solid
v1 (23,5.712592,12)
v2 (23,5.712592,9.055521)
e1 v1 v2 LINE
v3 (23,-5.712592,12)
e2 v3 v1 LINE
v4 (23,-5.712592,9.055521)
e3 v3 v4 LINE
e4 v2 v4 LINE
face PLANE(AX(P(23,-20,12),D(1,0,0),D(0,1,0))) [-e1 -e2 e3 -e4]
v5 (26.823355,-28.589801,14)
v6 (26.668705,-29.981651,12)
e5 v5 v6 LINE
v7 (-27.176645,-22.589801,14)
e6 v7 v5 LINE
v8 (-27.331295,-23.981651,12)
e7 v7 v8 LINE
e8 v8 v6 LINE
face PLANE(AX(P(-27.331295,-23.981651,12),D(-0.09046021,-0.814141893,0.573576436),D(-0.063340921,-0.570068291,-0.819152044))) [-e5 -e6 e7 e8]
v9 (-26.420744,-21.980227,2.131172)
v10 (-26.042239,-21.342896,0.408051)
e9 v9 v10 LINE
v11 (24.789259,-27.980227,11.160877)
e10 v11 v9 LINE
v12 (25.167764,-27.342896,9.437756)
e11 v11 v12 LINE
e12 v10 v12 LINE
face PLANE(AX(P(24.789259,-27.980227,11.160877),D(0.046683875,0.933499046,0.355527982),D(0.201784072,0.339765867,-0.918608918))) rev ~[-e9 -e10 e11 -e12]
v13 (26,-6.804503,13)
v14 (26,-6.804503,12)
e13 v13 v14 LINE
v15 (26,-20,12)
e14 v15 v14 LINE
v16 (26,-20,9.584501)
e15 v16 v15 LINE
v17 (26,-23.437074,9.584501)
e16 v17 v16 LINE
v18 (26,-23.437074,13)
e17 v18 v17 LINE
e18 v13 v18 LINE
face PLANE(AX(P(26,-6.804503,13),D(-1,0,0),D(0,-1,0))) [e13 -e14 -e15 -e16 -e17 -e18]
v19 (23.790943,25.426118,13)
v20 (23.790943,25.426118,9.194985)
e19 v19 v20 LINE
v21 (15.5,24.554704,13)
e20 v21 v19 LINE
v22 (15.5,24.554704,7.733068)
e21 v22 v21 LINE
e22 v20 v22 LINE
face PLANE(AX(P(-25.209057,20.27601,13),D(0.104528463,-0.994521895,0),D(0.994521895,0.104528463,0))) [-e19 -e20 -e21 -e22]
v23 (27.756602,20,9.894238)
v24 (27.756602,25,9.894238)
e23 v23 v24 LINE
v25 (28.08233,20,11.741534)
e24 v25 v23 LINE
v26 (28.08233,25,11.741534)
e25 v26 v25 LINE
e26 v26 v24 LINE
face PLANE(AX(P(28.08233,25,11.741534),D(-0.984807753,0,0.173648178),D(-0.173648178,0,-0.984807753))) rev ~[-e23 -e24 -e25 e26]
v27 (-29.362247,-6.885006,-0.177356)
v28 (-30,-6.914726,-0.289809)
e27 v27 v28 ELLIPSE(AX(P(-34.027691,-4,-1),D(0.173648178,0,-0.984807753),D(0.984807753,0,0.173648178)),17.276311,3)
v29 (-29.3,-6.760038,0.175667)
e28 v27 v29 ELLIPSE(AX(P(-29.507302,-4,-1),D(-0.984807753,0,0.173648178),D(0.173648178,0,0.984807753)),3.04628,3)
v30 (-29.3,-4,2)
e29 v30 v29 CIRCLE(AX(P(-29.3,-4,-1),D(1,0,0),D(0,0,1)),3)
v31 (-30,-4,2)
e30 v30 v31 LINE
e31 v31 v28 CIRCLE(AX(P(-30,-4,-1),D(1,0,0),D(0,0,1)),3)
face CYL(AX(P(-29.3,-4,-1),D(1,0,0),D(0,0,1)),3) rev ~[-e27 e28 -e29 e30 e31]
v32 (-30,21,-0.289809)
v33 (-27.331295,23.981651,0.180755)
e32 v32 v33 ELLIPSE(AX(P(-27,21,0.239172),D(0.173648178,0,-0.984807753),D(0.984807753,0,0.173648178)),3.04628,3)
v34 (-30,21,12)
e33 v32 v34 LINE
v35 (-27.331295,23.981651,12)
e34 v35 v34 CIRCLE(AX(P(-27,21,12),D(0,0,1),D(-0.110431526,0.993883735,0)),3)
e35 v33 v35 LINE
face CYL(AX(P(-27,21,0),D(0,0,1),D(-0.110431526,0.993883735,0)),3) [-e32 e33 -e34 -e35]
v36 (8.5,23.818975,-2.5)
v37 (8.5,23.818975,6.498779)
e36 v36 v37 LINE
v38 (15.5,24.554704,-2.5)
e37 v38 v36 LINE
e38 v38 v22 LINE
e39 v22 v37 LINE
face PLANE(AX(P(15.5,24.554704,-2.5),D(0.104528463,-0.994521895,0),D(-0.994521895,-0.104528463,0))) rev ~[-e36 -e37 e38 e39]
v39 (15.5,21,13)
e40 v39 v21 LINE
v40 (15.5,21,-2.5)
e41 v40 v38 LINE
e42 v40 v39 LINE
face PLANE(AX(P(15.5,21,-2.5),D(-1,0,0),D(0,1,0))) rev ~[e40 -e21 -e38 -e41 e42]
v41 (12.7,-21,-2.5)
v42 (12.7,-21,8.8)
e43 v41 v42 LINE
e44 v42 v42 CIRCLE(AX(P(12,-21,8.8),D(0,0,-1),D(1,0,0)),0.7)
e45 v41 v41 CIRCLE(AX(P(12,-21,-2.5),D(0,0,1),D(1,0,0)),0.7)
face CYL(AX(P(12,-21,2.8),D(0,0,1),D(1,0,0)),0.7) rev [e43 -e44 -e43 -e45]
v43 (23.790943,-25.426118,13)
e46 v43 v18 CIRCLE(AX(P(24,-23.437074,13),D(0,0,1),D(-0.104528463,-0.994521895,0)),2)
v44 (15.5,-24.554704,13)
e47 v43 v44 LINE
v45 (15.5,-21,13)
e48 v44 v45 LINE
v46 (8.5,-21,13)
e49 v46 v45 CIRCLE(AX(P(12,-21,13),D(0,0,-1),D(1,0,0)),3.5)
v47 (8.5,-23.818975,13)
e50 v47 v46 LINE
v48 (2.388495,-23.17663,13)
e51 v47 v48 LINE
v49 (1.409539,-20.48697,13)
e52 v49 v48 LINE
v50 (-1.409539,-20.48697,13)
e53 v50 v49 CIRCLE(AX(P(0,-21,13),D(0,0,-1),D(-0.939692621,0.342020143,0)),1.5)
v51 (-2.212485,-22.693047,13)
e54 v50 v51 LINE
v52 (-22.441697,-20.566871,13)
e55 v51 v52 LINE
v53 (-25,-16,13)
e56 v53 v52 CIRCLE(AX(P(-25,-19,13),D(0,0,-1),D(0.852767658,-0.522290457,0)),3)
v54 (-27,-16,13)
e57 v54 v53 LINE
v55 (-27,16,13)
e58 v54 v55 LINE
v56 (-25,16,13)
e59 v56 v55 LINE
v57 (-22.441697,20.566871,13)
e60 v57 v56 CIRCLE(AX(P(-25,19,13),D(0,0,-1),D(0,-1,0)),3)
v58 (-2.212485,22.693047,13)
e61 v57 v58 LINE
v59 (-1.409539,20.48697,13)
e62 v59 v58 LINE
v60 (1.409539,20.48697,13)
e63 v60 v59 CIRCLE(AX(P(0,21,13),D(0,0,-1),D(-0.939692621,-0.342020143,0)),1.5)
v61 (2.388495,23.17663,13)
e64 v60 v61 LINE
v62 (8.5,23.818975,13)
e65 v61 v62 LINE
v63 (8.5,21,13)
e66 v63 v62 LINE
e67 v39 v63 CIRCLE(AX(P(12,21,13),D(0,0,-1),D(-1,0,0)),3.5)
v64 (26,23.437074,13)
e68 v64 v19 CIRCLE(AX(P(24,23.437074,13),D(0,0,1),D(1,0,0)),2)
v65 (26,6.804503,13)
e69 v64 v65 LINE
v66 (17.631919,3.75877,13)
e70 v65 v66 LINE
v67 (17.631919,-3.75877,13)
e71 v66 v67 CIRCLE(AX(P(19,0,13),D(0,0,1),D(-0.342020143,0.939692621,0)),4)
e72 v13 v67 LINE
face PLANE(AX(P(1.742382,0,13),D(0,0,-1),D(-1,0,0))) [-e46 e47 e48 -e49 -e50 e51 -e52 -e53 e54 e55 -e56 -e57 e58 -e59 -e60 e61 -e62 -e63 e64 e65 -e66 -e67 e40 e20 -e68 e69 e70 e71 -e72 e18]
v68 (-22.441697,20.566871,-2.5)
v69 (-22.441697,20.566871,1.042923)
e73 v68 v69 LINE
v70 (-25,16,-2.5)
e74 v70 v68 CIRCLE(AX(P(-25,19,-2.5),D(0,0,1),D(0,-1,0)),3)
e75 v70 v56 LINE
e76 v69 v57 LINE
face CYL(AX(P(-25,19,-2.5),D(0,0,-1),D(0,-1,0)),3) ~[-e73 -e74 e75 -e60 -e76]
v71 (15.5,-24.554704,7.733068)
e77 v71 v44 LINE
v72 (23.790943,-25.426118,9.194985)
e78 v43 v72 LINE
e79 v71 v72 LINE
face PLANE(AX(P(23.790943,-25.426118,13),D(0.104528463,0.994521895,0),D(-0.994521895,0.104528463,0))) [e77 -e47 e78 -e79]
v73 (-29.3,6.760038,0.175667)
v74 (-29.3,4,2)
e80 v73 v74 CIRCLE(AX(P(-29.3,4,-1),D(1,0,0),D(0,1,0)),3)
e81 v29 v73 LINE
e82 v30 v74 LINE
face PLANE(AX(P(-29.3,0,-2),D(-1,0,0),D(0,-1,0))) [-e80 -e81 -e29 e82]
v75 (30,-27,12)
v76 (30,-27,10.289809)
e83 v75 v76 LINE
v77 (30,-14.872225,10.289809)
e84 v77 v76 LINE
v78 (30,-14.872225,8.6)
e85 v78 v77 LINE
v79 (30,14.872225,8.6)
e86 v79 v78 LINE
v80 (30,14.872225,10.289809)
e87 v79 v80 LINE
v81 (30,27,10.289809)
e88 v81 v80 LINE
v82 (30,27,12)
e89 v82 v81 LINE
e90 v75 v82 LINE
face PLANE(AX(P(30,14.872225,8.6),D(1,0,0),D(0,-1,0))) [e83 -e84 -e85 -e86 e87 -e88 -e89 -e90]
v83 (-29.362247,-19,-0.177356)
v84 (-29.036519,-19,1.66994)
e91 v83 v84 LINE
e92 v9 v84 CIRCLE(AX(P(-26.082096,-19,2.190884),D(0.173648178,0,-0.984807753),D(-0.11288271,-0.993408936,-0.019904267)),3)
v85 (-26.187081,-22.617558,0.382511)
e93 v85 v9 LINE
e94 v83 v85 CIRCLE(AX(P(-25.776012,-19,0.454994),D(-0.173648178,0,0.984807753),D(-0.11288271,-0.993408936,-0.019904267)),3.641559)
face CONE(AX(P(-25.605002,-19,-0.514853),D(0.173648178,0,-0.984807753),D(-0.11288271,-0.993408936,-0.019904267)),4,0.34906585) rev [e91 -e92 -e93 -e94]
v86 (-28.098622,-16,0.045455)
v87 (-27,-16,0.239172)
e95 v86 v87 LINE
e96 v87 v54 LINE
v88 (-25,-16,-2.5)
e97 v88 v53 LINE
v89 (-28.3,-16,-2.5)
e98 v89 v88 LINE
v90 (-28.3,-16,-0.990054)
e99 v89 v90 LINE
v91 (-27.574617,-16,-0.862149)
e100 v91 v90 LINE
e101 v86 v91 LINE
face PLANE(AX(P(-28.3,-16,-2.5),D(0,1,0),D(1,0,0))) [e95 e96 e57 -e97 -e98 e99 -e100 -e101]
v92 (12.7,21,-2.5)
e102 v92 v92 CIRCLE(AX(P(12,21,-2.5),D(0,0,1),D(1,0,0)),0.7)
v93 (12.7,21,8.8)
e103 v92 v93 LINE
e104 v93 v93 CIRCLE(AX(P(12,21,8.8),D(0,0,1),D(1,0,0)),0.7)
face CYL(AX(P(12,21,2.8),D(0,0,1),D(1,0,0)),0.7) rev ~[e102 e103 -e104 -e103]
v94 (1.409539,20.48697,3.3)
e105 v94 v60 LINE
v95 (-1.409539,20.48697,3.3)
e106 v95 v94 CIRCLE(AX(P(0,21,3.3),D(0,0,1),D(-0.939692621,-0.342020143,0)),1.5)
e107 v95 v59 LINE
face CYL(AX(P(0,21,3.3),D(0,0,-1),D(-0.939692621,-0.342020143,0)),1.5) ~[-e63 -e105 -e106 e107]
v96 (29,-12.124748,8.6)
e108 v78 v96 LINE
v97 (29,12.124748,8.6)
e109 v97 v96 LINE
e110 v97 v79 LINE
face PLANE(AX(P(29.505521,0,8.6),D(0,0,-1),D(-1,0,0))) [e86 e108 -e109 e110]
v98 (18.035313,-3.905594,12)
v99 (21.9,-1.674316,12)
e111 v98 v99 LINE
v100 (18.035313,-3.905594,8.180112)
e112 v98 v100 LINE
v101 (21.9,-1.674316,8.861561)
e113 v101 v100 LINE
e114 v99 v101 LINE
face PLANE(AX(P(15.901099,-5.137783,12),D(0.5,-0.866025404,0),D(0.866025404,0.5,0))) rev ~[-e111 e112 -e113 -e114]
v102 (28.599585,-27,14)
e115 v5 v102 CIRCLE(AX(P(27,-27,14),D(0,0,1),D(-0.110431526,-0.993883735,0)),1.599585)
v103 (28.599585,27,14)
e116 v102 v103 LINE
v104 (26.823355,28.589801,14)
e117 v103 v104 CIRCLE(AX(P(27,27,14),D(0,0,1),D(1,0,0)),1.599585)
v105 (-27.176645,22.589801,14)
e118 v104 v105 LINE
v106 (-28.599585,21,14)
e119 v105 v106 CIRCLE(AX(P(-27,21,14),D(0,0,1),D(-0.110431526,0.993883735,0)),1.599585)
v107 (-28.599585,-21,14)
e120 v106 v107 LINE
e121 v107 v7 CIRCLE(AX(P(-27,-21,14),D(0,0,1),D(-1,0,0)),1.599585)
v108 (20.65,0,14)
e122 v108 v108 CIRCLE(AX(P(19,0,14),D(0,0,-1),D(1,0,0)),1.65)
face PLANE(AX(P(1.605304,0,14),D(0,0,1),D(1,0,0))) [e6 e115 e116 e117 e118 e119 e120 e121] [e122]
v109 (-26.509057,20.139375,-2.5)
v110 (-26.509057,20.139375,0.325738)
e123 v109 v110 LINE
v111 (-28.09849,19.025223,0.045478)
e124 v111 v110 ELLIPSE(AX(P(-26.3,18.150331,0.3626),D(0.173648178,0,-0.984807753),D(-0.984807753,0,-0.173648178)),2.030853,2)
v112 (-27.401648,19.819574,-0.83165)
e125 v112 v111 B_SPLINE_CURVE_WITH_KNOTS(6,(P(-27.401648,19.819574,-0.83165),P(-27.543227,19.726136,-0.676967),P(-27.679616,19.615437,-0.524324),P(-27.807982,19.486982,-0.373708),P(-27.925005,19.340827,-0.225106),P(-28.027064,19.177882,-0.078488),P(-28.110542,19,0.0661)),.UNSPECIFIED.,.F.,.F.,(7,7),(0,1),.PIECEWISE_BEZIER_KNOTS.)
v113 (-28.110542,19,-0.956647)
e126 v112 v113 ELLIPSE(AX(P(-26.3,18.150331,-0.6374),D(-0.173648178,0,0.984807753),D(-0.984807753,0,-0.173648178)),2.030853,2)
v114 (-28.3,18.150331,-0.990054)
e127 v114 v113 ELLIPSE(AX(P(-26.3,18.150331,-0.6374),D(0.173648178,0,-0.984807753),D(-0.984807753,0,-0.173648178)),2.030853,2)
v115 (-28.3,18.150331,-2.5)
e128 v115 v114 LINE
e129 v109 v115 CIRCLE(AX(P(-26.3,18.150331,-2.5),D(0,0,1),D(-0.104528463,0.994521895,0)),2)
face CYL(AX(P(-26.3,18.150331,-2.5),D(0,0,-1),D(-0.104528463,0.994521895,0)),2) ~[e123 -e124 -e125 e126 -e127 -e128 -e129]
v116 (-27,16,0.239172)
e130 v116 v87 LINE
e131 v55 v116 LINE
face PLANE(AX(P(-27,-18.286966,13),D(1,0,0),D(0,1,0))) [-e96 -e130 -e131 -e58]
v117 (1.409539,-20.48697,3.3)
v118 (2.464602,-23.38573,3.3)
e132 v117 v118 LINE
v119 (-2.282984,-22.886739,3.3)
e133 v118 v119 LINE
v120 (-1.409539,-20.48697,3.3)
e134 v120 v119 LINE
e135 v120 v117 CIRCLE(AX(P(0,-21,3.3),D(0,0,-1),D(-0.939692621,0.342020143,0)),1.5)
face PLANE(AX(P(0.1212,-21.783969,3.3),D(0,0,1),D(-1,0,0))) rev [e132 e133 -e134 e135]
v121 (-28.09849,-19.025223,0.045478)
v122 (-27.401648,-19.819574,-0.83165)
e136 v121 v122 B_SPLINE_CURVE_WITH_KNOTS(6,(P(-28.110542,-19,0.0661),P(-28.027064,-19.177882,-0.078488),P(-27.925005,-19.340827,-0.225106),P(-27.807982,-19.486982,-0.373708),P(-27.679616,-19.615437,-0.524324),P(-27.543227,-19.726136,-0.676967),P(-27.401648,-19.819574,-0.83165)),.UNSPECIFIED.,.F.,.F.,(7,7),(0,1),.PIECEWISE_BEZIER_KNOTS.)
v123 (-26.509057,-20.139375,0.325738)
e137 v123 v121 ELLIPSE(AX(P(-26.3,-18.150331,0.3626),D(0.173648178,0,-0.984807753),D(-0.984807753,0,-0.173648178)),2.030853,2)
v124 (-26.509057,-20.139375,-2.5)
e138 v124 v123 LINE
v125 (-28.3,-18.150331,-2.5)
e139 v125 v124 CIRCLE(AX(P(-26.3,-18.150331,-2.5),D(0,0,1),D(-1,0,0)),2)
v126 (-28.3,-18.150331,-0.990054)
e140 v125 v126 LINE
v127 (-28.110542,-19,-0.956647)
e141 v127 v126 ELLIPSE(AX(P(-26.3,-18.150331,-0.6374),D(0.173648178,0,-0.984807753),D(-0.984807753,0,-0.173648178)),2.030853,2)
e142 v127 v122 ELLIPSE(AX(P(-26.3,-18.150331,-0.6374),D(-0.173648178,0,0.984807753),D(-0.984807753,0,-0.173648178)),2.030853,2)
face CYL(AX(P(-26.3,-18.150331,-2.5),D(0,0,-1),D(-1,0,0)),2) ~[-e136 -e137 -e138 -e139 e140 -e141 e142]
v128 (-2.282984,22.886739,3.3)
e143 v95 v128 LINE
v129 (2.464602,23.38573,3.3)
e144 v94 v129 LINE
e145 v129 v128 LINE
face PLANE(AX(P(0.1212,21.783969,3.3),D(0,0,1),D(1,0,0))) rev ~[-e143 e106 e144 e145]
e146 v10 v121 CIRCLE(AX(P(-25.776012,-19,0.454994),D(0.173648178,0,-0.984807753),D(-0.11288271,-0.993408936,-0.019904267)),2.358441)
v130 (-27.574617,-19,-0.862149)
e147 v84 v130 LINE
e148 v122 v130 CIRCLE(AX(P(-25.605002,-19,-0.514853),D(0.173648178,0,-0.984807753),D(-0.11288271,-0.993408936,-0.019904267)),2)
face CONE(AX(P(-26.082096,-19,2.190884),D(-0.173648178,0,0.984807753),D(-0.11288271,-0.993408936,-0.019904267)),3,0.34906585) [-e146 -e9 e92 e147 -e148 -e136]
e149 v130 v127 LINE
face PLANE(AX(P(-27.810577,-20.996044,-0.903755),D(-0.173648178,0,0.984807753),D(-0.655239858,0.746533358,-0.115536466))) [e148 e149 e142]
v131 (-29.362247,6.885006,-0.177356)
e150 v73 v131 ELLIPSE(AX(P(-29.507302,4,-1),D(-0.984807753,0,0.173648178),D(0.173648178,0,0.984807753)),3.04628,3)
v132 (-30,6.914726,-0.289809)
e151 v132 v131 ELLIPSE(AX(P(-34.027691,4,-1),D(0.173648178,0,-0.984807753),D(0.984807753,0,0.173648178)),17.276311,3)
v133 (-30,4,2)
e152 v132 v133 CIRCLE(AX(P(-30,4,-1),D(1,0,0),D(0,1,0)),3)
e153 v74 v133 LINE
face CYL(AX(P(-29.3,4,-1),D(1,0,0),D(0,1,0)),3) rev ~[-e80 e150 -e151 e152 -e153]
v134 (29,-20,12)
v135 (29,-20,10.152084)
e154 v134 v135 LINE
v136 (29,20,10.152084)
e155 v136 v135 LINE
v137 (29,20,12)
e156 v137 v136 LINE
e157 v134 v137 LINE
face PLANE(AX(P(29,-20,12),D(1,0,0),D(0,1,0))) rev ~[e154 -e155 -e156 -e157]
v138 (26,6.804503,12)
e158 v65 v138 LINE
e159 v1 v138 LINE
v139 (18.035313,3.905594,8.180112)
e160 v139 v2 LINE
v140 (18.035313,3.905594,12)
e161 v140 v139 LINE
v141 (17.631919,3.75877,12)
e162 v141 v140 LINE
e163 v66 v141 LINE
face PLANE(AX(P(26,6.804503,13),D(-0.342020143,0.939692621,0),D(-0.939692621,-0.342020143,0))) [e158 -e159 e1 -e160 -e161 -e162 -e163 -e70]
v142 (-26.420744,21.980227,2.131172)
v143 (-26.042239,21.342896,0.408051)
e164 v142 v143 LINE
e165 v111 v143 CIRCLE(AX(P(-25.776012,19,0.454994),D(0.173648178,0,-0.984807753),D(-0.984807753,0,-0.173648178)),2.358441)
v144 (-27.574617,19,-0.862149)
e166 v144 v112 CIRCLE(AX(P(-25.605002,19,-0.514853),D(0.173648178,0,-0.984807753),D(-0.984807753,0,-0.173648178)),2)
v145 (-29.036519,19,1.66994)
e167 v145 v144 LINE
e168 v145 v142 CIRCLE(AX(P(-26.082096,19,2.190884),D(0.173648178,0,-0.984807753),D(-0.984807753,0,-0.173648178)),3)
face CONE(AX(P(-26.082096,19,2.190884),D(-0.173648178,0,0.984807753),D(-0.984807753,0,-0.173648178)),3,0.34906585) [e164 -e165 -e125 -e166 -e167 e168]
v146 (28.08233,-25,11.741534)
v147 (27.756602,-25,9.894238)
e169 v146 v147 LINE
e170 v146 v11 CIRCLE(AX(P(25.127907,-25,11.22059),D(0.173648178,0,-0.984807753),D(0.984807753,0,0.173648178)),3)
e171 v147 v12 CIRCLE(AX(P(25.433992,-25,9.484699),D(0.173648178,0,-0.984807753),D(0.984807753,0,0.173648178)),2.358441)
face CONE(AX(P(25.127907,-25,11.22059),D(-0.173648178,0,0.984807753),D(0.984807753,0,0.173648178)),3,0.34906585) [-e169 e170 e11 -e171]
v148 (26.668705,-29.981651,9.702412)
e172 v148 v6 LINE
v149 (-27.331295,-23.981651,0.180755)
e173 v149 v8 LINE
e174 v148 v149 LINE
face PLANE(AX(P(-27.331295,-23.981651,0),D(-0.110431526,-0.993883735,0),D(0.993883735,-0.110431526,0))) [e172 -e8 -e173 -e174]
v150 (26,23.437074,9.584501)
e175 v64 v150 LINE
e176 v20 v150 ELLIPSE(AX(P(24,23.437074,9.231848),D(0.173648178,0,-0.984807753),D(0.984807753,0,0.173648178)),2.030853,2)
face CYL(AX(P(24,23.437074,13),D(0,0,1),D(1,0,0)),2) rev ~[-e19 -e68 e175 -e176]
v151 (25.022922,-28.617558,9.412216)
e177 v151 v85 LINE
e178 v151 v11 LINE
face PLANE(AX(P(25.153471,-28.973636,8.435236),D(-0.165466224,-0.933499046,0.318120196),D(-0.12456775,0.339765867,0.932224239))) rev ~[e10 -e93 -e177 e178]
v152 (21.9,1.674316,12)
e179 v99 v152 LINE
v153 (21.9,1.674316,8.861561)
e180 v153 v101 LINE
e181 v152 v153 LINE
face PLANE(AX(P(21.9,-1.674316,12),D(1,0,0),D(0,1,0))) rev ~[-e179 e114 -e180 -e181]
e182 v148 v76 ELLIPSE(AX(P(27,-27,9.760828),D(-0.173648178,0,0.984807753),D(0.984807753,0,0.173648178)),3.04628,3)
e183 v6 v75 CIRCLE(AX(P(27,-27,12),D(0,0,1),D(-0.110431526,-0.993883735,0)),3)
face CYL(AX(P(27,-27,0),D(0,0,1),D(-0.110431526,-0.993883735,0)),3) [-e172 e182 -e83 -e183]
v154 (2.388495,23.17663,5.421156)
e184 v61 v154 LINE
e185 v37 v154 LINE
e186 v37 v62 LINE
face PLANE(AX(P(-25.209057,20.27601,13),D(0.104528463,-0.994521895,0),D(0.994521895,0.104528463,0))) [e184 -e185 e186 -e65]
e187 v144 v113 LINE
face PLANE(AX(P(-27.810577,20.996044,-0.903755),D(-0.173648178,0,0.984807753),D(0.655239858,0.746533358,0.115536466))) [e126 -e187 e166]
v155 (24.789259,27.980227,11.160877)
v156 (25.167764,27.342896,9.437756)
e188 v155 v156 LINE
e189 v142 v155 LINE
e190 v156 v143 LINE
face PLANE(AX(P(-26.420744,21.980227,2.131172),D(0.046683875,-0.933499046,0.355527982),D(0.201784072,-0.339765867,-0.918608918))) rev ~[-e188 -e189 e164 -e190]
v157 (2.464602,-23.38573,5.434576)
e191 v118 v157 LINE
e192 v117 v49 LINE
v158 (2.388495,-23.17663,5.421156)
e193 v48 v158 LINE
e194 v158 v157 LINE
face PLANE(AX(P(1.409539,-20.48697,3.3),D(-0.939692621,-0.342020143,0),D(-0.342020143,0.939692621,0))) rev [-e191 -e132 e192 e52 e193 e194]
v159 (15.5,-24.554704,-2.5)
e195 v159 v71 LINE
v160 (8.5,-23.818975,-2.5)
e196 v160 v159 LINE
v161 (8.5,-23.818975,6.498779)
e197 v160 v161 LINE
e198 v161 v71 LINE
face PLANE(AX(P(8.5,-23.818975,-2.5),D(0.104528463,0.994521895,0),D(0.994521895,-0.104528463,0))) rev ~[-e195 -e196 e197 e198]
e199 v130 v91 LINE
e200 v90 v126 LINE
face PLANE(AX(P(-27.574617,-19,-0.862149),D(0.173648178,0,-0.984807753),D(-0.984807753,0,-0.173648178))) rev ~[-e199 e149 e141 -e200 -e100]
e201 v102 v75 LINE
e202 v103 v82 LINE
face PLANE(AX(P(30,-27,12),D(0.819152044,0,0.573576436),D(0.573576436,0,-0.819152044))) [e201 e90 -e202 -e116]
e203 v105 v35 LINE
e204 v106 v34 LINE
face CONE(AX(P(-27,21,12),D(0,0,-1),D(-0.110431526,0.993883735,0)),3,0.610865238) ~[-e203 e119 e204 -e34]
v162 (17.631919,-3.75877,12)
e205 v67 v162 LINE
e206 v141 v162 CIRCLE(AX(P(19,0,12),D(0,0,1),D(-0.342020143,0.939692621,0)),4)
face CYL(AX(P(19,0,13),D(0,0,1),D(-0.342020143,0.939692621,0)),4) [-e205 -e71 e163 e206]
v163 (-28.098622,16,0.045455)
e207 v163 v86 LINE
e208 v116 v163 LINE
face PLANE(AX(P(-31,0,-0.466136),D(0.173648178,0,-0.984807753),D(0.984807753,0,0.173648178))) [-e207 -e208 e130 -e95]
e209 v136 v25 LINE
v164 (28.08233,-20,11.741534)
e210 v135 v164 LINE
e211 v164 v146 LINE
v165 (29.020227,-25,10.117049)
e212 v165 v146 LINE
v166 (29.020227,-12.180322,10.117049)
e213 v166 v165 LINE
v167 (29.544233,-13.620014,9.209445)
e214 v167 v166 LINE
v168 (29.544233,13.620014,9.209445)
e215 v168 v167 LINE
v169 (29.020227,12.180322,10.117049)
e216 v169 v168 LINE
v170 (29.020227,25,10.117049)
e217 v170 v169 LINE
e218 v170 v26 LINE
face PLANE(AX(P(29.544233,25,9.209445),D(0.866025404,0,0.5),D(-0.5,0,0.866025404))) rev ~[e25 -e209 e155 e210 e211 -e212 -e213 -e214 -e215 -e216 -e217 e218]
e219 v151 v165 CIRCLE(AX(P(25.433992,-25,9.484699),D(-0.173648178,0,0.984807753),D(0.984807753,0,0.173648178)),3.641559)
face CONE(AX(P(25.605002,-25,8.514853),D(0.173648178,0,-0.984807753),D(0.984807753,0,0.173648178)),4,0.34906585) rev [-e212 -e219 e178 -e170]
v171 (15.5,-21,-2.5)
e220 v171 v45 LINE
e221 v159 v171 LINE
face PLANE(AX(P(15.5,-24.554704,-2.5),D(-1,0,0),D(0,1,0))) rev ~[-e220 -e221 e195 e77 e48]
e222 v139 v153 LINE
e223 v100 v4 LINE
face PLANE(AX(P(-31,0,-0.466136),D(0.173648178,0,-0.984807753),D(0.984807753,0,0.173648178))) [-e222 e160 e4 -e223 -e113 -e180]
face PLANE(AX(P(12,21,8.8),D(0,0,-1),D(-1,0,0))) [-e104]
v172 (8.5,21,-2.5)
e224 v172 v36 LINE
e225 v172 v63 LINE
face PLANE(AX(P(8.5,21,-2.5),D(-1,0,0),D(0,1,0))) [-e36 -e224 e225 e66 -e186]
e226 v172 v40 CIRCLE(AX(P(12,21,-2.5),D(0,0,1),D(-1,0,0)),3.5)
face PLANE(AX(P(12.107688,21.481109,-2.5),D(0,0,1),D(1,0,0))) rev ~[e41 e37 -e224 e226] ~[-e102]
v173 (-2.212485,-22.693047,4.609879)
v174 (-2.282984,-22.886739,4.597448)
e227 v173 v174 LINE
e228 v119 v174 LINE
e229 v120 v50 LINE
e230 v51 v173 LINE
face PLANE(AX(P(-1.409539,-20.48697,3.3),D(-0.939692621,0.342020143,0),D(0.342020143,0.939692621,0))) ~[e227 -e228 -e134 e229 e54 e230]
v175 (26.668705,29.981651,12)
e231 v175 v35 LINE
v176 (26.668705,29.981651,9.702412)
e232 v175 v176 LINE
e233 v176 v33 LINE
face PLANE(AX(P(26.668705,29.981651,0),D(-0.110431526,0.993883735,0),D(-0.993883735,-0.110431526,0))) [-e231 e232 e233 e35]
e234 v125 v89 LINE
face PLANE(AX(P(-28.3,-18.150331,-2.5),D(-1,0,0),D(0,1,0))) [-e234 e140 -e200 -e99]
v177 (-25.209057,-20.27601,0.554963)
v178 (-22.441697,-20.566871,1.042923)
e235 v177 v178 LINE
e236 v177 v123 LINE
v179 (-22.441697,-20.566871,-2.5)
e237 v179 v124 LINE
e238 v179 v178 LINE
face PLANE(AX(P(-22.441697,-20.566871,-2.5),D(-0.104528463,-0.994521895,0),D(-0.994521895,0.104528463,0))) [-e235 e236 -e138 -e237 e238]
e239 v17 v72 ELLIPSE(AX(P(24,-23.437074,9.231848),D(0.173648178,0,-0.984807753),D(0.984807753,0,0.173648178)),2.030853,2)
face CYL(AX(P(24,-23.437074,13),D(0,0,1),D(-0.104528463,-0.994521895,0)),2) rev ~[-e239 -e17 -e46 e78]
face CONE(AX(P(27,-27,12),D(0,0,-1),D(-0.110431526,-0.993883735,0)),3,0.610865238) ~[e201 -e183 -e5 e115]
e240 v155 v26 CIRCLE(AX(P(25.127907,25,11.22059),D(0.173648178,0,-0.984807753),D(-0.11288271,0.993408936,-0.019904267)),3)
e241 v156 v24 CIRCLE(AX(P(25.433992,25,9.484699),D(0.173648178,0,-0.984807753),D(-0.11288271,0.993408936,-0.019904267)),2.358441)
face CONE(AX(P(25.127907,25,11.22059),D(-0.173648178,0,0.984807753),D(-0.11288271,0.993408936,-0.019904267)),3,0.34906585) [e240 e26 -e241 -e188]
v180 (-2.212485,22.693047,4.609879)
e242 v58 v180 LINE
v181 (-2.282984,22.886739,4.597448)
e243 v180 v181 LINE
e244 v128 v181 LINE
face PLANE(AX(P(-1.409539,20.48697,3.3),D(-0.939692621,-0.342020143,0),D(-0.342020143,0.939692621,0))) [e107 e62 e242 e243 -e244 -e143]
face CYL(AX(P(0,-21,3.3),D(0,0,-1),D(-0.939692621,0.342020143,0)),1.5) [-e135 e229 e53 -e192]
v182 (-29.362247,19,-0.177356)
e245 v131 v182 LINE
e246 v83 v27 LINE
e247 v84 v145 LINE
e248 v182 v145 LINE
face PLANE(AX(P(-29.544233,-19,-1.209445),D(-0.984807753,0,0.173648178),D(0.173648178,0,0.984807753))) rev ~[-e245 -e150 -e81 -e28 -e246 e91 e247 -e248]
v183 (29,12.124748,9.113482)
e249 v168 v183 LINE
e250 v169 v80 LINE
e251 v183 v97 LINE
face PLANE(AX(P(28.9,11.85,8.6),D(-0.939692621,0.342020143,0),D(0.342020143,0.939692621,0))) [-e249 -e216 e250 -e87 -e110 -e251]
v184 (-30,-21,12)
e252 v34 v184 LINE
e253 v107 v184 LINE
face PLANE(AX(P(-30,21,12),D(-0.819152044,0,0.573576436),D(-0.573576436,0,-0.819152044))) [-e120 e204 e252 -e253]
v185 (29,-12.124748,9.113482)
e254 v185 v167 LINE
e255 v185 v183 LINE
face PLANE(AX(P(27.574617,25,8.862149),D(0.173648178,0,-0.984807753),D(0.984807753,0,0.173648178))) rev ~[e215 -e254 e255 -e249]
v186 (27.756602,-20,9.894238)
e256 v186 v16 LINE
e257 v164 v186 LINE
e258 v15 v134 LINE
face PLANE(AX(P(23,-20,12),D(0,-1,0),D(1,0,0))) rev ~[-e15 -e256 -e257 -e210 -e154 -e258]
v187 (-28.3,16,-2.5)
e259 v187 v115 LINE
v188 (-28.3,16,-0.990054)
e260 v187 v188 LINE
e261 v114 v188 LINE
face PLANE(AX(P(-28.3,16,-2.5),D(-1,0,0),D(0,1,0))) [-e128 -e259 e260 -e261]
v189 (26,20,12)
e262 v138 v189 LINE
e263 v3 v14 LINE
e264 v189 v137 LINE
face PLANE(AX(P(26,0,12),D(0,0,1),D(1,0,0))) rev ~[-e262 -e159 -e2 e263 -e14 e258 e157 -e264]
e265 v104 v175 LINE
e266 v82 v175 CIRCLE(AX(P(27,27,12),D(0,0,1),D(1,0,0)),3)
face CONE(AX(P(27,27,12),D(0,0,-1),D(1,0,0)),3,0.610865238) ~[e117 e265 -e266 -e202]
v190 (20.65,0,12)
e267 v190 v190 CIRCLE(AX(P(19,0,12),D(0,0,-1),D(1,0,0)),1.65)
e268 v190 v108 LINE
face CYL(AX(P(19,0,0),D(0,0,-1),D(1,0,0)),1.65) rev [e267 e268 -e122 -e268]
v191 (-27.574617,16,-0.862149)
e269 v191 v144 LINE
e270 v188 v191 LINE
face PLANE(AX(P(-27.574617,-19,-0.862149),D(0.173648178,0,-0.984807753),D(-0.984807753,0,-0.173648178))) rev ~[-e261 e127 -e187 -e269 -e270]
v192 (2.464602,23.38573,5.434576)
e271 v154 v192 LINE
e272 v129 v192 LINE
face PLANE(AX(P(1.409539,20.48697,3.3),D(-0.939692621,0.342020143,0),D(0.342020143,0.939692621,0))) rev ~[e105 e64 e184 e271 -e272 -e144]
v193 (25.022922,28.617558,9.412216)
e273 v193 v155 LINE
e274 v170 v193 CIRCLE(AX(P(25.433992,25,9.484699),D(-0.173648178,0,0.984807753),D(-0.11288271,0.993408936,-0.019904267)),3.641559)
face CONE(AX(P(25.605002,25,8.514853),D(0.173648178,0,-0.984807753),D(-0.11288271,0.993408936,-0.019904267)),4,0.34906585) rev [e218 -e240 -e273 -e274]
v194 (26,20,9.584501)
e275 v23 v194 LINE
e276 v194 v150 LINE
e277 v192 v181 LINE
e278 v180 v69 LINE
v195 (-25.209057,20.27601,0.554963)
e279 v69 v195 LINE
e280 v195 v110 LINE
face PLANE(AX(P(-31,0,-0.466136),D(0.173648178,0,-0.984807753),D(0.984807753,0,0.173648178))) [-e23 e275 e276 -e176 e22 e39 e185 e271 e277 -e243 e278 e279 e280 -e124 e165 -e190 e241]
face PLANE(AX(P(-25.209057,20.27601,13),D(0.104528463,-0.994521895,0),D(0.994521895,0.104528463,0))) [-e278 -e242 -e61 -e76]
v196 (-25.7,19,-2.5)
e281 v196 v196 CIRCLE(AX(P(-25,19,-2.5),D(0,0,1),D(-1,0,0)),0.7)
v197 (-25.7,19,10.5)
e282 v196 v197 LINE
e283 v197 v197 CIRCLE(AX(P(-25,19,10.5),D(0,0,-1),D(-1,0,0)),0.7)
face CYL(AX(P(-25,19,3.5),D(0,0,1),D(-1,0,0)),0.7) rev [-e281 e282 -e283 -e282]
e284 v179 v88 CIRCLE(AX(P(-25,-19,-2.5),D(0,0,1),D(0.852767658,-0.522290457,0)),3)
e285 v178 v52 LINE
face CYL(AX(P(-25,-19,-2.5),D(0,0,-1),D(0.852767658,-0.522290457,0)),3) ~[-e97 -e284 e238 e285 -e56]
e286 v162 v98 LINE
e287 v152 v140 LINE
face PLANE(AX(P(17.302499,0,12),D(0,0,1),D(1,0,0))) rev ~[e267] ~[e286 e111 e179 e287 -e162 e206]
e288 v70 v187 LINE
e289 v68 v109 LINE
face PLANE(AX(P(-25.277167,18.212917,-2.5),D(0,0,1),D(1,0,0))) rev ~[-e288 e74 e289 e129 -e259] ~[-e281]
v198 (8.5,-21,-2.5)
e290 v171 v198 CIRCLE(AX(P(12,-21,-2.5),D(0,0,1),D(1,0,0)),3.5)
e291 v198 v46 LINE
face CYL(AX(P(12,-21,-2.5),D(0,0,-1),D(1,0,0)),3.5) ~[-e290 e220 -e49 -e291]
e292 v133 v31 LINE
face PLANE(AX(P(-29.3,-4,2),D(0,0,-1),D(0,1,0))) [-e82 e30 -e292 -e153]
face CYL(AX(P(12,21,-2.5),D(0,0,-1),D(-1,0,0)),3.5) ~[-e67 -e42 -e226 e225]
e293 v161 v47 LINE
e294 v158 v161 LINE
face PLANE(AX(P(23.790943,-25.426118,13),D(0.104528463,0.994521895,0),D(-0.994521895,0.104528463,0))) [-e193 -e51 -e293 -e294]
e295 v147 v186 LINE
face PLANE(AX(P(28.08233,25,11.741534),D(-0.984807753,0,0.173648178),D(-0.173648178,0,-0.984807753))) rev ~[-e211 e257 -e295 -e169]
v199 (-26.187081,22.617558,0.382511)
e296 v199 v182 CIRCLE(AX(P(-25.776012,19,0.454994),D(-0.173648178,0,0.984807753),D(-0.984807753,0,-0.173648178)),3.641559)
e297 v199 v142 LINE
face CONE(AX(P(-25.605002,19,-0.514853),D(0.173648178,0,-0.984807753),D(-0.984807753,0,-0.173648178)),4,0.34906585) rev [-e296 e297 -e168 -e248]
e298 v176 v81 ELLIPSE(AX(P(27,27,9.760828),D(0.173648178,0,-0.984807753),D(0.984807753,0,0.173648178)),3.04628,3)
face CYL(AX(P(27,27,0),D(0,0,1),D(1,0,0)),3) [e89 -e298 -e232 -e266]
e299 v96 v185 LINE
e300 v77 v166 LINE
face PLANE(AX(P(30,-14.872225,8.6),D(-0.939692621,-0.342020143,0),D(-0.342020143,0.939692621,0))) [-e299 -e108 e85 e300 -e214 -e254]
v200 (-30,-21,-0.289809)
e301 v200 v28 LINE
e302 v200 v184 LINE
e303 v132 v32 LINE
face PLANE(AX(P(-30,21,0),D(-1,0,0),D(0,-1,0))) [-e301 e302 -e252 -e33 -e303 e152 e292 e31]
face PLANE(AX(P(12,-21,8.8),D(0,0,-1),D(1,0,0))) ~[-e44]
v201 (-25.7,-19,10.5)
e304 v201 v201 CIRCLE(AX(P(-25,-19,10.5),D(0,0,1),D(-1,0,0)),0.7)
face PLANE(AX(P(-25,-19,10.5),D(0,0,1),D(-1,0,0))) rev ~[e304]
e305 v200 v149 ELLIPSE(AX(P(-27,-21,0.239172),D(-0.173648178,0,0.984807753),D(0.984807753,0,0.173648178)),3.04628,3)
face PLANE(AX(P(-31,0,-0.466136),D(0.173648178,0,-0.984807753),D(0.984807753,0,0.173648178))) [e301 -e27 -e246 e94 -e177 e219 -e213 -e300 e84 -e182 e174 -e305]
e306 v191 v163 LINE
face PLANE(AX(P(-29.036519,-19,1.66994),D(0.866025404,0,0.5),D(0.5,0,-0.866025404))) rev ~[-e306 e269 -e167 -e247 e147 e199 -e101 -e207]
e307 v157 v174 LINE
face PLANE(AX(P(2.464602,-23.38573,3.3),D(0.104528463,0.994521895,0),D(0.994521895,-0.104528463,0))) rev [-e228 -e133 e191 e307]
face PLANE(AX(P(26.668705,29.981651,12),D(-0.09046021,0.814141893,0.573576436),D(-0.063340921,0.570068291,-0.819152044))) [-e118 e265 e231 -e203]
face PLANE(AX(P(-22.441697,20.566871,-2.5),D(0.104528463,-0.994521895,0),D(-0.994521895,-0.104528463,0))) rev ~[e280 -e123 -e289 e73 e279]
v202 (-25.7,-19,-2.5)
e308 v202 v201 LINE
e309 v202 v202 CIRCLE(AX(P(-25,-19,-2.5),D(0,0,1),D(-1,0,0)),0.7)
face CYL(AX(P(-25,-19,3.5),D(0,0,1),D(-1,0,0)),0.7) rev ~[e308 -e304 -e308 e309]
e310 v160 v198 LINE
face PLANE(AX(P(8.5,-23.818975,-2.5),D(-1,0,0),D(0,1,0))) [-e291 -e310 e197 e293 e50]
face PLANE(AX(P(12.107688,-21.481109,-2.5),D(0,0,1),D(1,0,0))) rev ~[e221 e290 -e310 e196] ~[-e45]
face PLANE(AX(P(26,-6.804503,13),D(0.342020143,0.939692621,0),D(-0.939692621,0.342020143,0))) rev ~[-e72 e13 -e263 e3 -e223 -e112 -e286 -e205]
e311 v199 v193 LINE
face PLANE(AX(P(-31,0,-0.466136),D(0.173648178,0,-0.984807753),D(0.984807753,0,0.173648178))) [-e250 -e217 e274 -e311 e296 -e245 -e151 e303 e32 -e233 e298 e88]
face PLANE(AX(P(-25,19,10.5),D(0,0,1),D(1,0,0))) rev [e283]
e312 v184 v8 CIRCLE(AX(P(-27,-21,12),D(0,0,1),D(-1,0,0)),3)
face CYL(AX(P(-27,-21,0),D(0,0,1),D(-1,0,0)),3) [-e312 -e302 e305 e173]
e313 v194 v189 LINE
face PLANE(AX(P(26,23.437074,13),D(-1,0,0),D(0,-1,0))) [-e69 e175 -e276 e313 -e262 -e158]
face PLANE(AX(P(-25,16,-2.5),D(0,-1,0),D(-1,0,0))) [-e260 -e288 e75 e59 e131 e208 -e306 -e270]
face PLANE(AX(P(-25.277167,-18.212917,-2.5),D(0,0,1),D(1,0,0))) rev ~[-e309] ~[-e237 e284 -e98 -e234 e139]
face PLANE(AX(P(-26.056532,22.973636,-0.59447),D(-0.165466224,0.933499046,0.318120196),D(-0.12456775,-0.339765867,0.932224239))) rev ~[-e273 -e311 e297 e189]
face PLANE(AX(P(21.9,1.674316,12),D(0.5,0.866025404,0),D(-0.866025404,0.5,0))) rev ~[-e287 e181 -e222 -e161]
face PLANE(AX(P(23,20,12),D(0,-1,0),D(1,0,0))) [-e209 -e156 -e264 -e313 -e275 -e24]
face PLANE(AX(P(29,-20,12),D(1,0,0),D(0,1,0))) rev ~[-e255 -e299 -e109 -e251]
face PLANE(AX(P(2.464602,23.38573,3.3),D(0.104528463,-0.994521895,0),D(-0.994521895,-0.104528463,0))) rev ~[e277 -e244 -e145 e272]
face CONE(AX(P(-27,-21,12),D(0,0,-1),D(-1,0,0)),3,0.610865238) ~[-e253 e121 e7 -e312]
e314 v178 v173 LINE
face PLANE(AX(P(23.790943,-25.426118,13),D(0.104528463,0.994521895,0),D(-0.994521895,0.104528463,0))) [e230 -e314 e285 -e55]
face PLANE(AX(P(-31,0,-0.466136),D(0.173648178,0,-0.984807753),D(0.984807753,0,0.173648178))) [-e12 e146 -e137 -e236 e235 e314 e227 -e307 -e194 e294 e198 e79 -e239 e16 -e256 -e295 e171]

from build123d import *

# Parameters (mm, degrees)
PAD008_DEPTH         = 14
PAD008_DEPTH_BACK    = 5
POCKET006_DEPTH      = 30.001
POCKET006_DEPTH_BACK = 30.001
POCKET032_DEPTH      = 13.2908094213
PAD015_DEPTH         = 16
SKETCH026_W          = 0.7
SKETCH026_H          = 12
SKETCH027_W          = 0.7
SKETCH027_H          = 14
POCKET033_DEPTH      = 14.501
SKETCH037_R          = 1.65
POCKET034_DEPTH      = 14.001
PAD016_DEPTH         = 3
SKETCH036_W          = 6
SKETCH036_H          = 40
POCKET035_DEPTH      = 14.501
POCKET036_DEPTH      = 0.701
PAD017_DEPTH         = 10


with BuildPart() as part:
    # Sketch020 → Pad008 (new body, two sides)
    with BuildSketch(Plane.XY) as pad008_sk:
        with BuildLine():
            Line((26.6687054218, 29.981651204), (-27.3312945782, 23.981651204))
            ThreePointArc((-27.3312945782, 23.981651204), (-29.2353840537, 23.0007643871), (-30, 21))
            Line((-30, 21), (-30, -21))
            ThreePointArc((-30, -21), (-29.2353840537, -23.0007643871), (-27.3312945782, -23.981651204))
            Line((-27.3312945782, -23.981651204), (26.6687054218, -29.981651204))
            ThreePointArc((26.6687054218, -29.981651204), (29.0007643871, -29.2353840537), (30, -27))
            Line((30, -27), (30, 27))
            ThreePointArc((30, 27), (29.0007643871, 29.2353840537), (26.6687054218, 29.981651204))
        make_face()
    extrude(amount=PAD008_DEPTH)
    extrude(pad008_sk.sketch, amount=-PAD008_DEPTH_BACK)

    # Sketch021 → Pocket006 (cut, two sides)
    with BuildSketch(Plane.XZ) as pocket006_sk:
        Polygon((31, -6), (-31, -6), (-31, -0.466136402), (31, 10.466136402), align=None)
    extrude(amount=-POCKET006_DEPTH, mode=Mode.SUBTRACT)
    extrude(pocket006_sk.sketch, amount=POCKET006_DEPTH_BACK, mode=Mode.SUBTRACT)

    # Sketch040 → Pocket032 (cut, through all)
    with BuildSketch(Plane.XY.offset(13)):
        with BuildLine():
            Line((-25.2090569265, 20.276010124), (23.7909430735, 25.426117652))
            ThreePointArc((26, 23.4370738613), (25.3382612127, 24.9233635123), (23.7909430735, 25.426117652))
            Line((26, 23.4370738613), (26, 6.8045027298))
            Line((26, 6.8045027298), (17.6319194267, 3.7587704831))
            ThreePointArc((17.6319194267, 3.7587704831), (15, 0), (17.6319194267, -3.7587704831))
            Line((26, -6.8045027298), (17.6319194267, -3.7587704831))
            Line((26, -6.8045027298), (26, -23.4370738613))
            ThreePointArc((23.7909430735, -25.426117652), (25.3382612127, -24.9233635123), (26, -23.4370738613))
            Line((23.7909430735, -25.426117652), (-25.2090569265, -20.276010124))
            ThreePointArc((-27, -18.2869663333), (-26.486289651, -19.625227546), (-25.2090569265, -20.276010124))
            Line((-27, -18.2869663333), (-27, 18.2869663333))
            ThreePointArc((-25.2090569265, 20.276010124), (-26.486289651, 19.625227546), (-27, 18.2869663333))
        make_face()
    extrude(amount=-POCKET032_DEPTH, mode=Mode.SUBTRACT)

    # Sketch063 → Pad015 (join)
    with BuildSketch(Plane.XY.offset(-2.5)):
        with BuildLine():
            Line((15.5, 21), (15.5, 24.5547044207))
            Line((15.5, 24.5547044207), (8.5, 23.8189747738))
            Line((8.5, 21), (8.5, 23.8189747738))
            ThreePointArc((8.5, 21), (12, 17.5), (15.5, 21))
        make_face()
        with BuildLine():
            Line((8.5, -23.8189747738), (15.5, -24.5547044207))
            Line((15.5, -24.5547044207), (15.5, -21))
            ThreePointArc((15.5, -21), (12, -17.5), (8.5, -21))
            Line((8.5, -23.8189747738), (8.5, -21))
        make_face()
        with BuildLine():
            ThreePointArc((-25, 16), (-22.3826908751, 17.5338168788), (-22.4416970255, 20.5668713701))
            Line((-22.4416970255, 20.5668713701), (-26.5090569265, 20.1393746182))
            ThreePointArc((-26.5090569265, 20.1393746182), (-27.786289651, 19.4885920402), (-28.3, 18.1503308274))
            Line((-28.3, 16), (-28.3, 18.1503308274))
            Line((-25, 16), (-28.3, 16))
        make_face()
        with BuildLine():
            ThreePointArc((-22.4416970255, -20.5668713701), (-22.3826908751, -17.5338168788), (-25, -16))
            Line((-28.3, -16), (-25, -16))
            Line((-28.3, -18.1503308274), (-28.3, -16))
            ThreePointArc((-28.3, -18.1503308274), (-27.786289651, -19.4885920402), (-26.5090569265, -20.1393746182))
            Line((-22.4416970255, -20.5668713701), (-26.5090569265, -20.1393746182))
        make_face()
    extrude(amount=PAD015_DEPTH)

    # Sketch026 → Groove (revolve, cut)
    with BuildSketch(Plane.XZ.offset(21)):
        with Locations((12.35, 2.8)):
            Rectangle(SKETCH026_W, SKETCH026_H)
    groove = revolve(axis=Axis((12, -21, 8.8), (0, 0, -1)), mode=Mode.SUBTRACT)

    # Sketch027 → Groove004 (revolve, cut)
    with BuildSketch(Plane.XZ.offset(19)):
        with Locations((-25.35, 3.5)):
            Rectangle(SKETCH027_W, SKETCH027_H)
    groove004 = revolve(axis=Axis((-25, -19, -17.5), (0, 0, 1)), mode=Mode.SUBTRACT)

    # Mirrored013: Groove, Groove004 across XZ
    add(groove.mirror(Plane.XZ), mode=Mode.SUBTRACT)
    add(groove004.mirror(Plane.XZ), mode=Mode.SUBTRACT)

    # Sketch057 → Pocket033 (cut, through all)
    with BuildSketch(Plane.XY.offset(12)):
        with BuildLine():
            Line((21.9, -1.6743157806), (21.9, 1.6743157806))
            Line((21.9, 1.6743157806), (15.9010990338, 5.1377828683))
            ThreePointArc((15.9010990338, 5.1377828683), (13, 0), (15.9010990338, -5.1377828683))
            Line((15.9010990338, -5.1377828683), (21.9, -1.6743157806))
        make_face()
    extrude(amount=-POCKET033_DEPTH, mode=Mode.SUBTRACT)

    # Sketch037 → Pocket034 (cut, through all)
    with BuildSketch(Plane.XY):
        with Locations((19, 0)):
            Circle(SKETCH037_R)
    extrude(amount=POCKET034_DEPTH, mode=Mode.SUBTRACT)

    # Sketch039 → Pad016 (join)
    with BuildSketch(Plane.XY.offset(8.6)):
        Polygon((28.9, -11.85), (28.9, 11.85), (30, 14.8722251614), (30, -14.8722251614), align=None)
    extrude(amount=PAD016_DEPTH)

    # SubtractivePipe: sweep along a path in Sketch020
    with BuildLine(Plane.XY) as subtractivepipe_path:
        Line((26.6687054218, 29.981651204), (-27.3312945782, 23.981651204))
        ThreePointArc((-27.3312945782, 23.981651204), (-29.2353840537, 23.0007643871), (-30, 21))
        Line((-30, 21), (-30, -21))
        ThreePointArc((-30, -21), (-29.2353840537, -23.0007643871), (-27.3312945782, -23.981651204))
        Line((-27.3312945782, -23.981651204), (26.6687054218, -29.981651204))
        ThreePointArc((26.6687054218, -29.981651204), (29.0007643871, -29.2353840537), (30, -27))
        Line((30, -27), (30, 27))
        ThreePointArc((30, 27), (29.0007643871, 29.2353840537), (26.6687054218, 29.981651204))
    # Sketch035 → SubtractivePipe (sweep, cut)
    with BuildSketch(Plane.XZ):
        Polygon((28.5995849236, 14), (30, 14), (30, 12), align=None)
    sweep(path=subtractivepipe_path.line, mode=Mode.SUBTRACT)

    # Sketch036 → Pocket035 (cut, through all)
    with BuildSketch(Plane.XY.offset(12)):
        with Locations((26, 0)):
            Rectangle(SKETCH036_W, SKETCH036_H)
    extrude(amount=-POCKET035_DEPTH, mode=Mode.SUBTRACT)

    # Sketch054 → Pocket036 (cut, through all)
    with BuildSketch(Plane.YZ.offset(-29.3)):
        with BuildLine():
            Line((-4, 2), (4, 2))
            ThreePointArc((7, -1), (6.1213203436, 1.1213203436), (4, 2))
            Line((7, -1), (7, -3))
            ThreePointArc((4, -6), (6.1213203436, -5.1213203436), (7, -3))
            Line((4, -6), (-4, -6))
            ThreePointArc((-7, -3), (-6.1213203436, -5.1213203436), (-4, -6))
            Line((-7, -3), (-7, -1))
            ThreePointArc((-4, 2), (-6.1213203436, 1.1213203436), (-7, -1))
        make_face()
    extrude(amount=-POCKET036_DEPTH, mode=Mode.SUBTRACT)

    # Sketch064 → Pad017 (join)
    with BuildSketch(Plane.XY.offset(3.3)):
        with BuildLine():
            Line((1.4095389312, 20.486969785), (2.4646015442, 23.3857304905))
            Line((2.4646015442, 23.3857304905), (-2.2829835631, 22.8867391884))
            Line((-1.4095389312, 20.486969785), (-2.2829835631, 22.8867391884))
            ThreePointArc((-1.4095389312, 20.486969785), (0, 19.5), (1.4095389312, 20.486969785))
        make_face()
    pad017 = extrude(amount=PAD017_DEPTH)

    # Mirrored014: Pad017 across XZ
    add(pad017.mirror(Plane.XZ))

    # SubtractivePipe002: sweep along a path in Sketch023
    with BuildLine(Plane(origin=(0, 0, 4), x_dir=(0.984807753, 0, 0.1736481777), z_dir=(-0.1736481777, 0, 0.984807753))) as subtractivepipe002_path:
        Line((-26.343872324, 21.9802268076), (25.656127676, 27.9802268076))
        ThreePointArc((25.656127676, 27.9802268076), (27.996043966, 27.2396000728), (29, 25))
        Line((29, 25), (29, -25))
        ThreePointArc((29, -25), (27.996043966, -27.2396000728), (25.656127676, -27.9802268076))
        Line((25.656127676, -27.9802268076), (-26.343872324, -21.9802268076))
        ThreePointArc((-26.343872324, -21.9802268076), (-28.2396000728, -20.996043966), (-29, -19))
        Line((-29, -19), (-29, 19))
        ThreePointArc((-29, 19), (-28.2396000728, 20.996043966), (-26.343872324, 21.9802268076))
    # Sketch025 → SubtractivePipe002 (sweep, cut)
    with BuildSketch(Plane.XZ):
        Polygon((28.0823303903, 11.7415342162), (27.5746170843, 8.8621489747), (29.5442325904, 9.20944533), align=None)
    sweep(path=subtractivepipe002_path.line, mode=Mode.SUBTRACT)


solid = part.part
